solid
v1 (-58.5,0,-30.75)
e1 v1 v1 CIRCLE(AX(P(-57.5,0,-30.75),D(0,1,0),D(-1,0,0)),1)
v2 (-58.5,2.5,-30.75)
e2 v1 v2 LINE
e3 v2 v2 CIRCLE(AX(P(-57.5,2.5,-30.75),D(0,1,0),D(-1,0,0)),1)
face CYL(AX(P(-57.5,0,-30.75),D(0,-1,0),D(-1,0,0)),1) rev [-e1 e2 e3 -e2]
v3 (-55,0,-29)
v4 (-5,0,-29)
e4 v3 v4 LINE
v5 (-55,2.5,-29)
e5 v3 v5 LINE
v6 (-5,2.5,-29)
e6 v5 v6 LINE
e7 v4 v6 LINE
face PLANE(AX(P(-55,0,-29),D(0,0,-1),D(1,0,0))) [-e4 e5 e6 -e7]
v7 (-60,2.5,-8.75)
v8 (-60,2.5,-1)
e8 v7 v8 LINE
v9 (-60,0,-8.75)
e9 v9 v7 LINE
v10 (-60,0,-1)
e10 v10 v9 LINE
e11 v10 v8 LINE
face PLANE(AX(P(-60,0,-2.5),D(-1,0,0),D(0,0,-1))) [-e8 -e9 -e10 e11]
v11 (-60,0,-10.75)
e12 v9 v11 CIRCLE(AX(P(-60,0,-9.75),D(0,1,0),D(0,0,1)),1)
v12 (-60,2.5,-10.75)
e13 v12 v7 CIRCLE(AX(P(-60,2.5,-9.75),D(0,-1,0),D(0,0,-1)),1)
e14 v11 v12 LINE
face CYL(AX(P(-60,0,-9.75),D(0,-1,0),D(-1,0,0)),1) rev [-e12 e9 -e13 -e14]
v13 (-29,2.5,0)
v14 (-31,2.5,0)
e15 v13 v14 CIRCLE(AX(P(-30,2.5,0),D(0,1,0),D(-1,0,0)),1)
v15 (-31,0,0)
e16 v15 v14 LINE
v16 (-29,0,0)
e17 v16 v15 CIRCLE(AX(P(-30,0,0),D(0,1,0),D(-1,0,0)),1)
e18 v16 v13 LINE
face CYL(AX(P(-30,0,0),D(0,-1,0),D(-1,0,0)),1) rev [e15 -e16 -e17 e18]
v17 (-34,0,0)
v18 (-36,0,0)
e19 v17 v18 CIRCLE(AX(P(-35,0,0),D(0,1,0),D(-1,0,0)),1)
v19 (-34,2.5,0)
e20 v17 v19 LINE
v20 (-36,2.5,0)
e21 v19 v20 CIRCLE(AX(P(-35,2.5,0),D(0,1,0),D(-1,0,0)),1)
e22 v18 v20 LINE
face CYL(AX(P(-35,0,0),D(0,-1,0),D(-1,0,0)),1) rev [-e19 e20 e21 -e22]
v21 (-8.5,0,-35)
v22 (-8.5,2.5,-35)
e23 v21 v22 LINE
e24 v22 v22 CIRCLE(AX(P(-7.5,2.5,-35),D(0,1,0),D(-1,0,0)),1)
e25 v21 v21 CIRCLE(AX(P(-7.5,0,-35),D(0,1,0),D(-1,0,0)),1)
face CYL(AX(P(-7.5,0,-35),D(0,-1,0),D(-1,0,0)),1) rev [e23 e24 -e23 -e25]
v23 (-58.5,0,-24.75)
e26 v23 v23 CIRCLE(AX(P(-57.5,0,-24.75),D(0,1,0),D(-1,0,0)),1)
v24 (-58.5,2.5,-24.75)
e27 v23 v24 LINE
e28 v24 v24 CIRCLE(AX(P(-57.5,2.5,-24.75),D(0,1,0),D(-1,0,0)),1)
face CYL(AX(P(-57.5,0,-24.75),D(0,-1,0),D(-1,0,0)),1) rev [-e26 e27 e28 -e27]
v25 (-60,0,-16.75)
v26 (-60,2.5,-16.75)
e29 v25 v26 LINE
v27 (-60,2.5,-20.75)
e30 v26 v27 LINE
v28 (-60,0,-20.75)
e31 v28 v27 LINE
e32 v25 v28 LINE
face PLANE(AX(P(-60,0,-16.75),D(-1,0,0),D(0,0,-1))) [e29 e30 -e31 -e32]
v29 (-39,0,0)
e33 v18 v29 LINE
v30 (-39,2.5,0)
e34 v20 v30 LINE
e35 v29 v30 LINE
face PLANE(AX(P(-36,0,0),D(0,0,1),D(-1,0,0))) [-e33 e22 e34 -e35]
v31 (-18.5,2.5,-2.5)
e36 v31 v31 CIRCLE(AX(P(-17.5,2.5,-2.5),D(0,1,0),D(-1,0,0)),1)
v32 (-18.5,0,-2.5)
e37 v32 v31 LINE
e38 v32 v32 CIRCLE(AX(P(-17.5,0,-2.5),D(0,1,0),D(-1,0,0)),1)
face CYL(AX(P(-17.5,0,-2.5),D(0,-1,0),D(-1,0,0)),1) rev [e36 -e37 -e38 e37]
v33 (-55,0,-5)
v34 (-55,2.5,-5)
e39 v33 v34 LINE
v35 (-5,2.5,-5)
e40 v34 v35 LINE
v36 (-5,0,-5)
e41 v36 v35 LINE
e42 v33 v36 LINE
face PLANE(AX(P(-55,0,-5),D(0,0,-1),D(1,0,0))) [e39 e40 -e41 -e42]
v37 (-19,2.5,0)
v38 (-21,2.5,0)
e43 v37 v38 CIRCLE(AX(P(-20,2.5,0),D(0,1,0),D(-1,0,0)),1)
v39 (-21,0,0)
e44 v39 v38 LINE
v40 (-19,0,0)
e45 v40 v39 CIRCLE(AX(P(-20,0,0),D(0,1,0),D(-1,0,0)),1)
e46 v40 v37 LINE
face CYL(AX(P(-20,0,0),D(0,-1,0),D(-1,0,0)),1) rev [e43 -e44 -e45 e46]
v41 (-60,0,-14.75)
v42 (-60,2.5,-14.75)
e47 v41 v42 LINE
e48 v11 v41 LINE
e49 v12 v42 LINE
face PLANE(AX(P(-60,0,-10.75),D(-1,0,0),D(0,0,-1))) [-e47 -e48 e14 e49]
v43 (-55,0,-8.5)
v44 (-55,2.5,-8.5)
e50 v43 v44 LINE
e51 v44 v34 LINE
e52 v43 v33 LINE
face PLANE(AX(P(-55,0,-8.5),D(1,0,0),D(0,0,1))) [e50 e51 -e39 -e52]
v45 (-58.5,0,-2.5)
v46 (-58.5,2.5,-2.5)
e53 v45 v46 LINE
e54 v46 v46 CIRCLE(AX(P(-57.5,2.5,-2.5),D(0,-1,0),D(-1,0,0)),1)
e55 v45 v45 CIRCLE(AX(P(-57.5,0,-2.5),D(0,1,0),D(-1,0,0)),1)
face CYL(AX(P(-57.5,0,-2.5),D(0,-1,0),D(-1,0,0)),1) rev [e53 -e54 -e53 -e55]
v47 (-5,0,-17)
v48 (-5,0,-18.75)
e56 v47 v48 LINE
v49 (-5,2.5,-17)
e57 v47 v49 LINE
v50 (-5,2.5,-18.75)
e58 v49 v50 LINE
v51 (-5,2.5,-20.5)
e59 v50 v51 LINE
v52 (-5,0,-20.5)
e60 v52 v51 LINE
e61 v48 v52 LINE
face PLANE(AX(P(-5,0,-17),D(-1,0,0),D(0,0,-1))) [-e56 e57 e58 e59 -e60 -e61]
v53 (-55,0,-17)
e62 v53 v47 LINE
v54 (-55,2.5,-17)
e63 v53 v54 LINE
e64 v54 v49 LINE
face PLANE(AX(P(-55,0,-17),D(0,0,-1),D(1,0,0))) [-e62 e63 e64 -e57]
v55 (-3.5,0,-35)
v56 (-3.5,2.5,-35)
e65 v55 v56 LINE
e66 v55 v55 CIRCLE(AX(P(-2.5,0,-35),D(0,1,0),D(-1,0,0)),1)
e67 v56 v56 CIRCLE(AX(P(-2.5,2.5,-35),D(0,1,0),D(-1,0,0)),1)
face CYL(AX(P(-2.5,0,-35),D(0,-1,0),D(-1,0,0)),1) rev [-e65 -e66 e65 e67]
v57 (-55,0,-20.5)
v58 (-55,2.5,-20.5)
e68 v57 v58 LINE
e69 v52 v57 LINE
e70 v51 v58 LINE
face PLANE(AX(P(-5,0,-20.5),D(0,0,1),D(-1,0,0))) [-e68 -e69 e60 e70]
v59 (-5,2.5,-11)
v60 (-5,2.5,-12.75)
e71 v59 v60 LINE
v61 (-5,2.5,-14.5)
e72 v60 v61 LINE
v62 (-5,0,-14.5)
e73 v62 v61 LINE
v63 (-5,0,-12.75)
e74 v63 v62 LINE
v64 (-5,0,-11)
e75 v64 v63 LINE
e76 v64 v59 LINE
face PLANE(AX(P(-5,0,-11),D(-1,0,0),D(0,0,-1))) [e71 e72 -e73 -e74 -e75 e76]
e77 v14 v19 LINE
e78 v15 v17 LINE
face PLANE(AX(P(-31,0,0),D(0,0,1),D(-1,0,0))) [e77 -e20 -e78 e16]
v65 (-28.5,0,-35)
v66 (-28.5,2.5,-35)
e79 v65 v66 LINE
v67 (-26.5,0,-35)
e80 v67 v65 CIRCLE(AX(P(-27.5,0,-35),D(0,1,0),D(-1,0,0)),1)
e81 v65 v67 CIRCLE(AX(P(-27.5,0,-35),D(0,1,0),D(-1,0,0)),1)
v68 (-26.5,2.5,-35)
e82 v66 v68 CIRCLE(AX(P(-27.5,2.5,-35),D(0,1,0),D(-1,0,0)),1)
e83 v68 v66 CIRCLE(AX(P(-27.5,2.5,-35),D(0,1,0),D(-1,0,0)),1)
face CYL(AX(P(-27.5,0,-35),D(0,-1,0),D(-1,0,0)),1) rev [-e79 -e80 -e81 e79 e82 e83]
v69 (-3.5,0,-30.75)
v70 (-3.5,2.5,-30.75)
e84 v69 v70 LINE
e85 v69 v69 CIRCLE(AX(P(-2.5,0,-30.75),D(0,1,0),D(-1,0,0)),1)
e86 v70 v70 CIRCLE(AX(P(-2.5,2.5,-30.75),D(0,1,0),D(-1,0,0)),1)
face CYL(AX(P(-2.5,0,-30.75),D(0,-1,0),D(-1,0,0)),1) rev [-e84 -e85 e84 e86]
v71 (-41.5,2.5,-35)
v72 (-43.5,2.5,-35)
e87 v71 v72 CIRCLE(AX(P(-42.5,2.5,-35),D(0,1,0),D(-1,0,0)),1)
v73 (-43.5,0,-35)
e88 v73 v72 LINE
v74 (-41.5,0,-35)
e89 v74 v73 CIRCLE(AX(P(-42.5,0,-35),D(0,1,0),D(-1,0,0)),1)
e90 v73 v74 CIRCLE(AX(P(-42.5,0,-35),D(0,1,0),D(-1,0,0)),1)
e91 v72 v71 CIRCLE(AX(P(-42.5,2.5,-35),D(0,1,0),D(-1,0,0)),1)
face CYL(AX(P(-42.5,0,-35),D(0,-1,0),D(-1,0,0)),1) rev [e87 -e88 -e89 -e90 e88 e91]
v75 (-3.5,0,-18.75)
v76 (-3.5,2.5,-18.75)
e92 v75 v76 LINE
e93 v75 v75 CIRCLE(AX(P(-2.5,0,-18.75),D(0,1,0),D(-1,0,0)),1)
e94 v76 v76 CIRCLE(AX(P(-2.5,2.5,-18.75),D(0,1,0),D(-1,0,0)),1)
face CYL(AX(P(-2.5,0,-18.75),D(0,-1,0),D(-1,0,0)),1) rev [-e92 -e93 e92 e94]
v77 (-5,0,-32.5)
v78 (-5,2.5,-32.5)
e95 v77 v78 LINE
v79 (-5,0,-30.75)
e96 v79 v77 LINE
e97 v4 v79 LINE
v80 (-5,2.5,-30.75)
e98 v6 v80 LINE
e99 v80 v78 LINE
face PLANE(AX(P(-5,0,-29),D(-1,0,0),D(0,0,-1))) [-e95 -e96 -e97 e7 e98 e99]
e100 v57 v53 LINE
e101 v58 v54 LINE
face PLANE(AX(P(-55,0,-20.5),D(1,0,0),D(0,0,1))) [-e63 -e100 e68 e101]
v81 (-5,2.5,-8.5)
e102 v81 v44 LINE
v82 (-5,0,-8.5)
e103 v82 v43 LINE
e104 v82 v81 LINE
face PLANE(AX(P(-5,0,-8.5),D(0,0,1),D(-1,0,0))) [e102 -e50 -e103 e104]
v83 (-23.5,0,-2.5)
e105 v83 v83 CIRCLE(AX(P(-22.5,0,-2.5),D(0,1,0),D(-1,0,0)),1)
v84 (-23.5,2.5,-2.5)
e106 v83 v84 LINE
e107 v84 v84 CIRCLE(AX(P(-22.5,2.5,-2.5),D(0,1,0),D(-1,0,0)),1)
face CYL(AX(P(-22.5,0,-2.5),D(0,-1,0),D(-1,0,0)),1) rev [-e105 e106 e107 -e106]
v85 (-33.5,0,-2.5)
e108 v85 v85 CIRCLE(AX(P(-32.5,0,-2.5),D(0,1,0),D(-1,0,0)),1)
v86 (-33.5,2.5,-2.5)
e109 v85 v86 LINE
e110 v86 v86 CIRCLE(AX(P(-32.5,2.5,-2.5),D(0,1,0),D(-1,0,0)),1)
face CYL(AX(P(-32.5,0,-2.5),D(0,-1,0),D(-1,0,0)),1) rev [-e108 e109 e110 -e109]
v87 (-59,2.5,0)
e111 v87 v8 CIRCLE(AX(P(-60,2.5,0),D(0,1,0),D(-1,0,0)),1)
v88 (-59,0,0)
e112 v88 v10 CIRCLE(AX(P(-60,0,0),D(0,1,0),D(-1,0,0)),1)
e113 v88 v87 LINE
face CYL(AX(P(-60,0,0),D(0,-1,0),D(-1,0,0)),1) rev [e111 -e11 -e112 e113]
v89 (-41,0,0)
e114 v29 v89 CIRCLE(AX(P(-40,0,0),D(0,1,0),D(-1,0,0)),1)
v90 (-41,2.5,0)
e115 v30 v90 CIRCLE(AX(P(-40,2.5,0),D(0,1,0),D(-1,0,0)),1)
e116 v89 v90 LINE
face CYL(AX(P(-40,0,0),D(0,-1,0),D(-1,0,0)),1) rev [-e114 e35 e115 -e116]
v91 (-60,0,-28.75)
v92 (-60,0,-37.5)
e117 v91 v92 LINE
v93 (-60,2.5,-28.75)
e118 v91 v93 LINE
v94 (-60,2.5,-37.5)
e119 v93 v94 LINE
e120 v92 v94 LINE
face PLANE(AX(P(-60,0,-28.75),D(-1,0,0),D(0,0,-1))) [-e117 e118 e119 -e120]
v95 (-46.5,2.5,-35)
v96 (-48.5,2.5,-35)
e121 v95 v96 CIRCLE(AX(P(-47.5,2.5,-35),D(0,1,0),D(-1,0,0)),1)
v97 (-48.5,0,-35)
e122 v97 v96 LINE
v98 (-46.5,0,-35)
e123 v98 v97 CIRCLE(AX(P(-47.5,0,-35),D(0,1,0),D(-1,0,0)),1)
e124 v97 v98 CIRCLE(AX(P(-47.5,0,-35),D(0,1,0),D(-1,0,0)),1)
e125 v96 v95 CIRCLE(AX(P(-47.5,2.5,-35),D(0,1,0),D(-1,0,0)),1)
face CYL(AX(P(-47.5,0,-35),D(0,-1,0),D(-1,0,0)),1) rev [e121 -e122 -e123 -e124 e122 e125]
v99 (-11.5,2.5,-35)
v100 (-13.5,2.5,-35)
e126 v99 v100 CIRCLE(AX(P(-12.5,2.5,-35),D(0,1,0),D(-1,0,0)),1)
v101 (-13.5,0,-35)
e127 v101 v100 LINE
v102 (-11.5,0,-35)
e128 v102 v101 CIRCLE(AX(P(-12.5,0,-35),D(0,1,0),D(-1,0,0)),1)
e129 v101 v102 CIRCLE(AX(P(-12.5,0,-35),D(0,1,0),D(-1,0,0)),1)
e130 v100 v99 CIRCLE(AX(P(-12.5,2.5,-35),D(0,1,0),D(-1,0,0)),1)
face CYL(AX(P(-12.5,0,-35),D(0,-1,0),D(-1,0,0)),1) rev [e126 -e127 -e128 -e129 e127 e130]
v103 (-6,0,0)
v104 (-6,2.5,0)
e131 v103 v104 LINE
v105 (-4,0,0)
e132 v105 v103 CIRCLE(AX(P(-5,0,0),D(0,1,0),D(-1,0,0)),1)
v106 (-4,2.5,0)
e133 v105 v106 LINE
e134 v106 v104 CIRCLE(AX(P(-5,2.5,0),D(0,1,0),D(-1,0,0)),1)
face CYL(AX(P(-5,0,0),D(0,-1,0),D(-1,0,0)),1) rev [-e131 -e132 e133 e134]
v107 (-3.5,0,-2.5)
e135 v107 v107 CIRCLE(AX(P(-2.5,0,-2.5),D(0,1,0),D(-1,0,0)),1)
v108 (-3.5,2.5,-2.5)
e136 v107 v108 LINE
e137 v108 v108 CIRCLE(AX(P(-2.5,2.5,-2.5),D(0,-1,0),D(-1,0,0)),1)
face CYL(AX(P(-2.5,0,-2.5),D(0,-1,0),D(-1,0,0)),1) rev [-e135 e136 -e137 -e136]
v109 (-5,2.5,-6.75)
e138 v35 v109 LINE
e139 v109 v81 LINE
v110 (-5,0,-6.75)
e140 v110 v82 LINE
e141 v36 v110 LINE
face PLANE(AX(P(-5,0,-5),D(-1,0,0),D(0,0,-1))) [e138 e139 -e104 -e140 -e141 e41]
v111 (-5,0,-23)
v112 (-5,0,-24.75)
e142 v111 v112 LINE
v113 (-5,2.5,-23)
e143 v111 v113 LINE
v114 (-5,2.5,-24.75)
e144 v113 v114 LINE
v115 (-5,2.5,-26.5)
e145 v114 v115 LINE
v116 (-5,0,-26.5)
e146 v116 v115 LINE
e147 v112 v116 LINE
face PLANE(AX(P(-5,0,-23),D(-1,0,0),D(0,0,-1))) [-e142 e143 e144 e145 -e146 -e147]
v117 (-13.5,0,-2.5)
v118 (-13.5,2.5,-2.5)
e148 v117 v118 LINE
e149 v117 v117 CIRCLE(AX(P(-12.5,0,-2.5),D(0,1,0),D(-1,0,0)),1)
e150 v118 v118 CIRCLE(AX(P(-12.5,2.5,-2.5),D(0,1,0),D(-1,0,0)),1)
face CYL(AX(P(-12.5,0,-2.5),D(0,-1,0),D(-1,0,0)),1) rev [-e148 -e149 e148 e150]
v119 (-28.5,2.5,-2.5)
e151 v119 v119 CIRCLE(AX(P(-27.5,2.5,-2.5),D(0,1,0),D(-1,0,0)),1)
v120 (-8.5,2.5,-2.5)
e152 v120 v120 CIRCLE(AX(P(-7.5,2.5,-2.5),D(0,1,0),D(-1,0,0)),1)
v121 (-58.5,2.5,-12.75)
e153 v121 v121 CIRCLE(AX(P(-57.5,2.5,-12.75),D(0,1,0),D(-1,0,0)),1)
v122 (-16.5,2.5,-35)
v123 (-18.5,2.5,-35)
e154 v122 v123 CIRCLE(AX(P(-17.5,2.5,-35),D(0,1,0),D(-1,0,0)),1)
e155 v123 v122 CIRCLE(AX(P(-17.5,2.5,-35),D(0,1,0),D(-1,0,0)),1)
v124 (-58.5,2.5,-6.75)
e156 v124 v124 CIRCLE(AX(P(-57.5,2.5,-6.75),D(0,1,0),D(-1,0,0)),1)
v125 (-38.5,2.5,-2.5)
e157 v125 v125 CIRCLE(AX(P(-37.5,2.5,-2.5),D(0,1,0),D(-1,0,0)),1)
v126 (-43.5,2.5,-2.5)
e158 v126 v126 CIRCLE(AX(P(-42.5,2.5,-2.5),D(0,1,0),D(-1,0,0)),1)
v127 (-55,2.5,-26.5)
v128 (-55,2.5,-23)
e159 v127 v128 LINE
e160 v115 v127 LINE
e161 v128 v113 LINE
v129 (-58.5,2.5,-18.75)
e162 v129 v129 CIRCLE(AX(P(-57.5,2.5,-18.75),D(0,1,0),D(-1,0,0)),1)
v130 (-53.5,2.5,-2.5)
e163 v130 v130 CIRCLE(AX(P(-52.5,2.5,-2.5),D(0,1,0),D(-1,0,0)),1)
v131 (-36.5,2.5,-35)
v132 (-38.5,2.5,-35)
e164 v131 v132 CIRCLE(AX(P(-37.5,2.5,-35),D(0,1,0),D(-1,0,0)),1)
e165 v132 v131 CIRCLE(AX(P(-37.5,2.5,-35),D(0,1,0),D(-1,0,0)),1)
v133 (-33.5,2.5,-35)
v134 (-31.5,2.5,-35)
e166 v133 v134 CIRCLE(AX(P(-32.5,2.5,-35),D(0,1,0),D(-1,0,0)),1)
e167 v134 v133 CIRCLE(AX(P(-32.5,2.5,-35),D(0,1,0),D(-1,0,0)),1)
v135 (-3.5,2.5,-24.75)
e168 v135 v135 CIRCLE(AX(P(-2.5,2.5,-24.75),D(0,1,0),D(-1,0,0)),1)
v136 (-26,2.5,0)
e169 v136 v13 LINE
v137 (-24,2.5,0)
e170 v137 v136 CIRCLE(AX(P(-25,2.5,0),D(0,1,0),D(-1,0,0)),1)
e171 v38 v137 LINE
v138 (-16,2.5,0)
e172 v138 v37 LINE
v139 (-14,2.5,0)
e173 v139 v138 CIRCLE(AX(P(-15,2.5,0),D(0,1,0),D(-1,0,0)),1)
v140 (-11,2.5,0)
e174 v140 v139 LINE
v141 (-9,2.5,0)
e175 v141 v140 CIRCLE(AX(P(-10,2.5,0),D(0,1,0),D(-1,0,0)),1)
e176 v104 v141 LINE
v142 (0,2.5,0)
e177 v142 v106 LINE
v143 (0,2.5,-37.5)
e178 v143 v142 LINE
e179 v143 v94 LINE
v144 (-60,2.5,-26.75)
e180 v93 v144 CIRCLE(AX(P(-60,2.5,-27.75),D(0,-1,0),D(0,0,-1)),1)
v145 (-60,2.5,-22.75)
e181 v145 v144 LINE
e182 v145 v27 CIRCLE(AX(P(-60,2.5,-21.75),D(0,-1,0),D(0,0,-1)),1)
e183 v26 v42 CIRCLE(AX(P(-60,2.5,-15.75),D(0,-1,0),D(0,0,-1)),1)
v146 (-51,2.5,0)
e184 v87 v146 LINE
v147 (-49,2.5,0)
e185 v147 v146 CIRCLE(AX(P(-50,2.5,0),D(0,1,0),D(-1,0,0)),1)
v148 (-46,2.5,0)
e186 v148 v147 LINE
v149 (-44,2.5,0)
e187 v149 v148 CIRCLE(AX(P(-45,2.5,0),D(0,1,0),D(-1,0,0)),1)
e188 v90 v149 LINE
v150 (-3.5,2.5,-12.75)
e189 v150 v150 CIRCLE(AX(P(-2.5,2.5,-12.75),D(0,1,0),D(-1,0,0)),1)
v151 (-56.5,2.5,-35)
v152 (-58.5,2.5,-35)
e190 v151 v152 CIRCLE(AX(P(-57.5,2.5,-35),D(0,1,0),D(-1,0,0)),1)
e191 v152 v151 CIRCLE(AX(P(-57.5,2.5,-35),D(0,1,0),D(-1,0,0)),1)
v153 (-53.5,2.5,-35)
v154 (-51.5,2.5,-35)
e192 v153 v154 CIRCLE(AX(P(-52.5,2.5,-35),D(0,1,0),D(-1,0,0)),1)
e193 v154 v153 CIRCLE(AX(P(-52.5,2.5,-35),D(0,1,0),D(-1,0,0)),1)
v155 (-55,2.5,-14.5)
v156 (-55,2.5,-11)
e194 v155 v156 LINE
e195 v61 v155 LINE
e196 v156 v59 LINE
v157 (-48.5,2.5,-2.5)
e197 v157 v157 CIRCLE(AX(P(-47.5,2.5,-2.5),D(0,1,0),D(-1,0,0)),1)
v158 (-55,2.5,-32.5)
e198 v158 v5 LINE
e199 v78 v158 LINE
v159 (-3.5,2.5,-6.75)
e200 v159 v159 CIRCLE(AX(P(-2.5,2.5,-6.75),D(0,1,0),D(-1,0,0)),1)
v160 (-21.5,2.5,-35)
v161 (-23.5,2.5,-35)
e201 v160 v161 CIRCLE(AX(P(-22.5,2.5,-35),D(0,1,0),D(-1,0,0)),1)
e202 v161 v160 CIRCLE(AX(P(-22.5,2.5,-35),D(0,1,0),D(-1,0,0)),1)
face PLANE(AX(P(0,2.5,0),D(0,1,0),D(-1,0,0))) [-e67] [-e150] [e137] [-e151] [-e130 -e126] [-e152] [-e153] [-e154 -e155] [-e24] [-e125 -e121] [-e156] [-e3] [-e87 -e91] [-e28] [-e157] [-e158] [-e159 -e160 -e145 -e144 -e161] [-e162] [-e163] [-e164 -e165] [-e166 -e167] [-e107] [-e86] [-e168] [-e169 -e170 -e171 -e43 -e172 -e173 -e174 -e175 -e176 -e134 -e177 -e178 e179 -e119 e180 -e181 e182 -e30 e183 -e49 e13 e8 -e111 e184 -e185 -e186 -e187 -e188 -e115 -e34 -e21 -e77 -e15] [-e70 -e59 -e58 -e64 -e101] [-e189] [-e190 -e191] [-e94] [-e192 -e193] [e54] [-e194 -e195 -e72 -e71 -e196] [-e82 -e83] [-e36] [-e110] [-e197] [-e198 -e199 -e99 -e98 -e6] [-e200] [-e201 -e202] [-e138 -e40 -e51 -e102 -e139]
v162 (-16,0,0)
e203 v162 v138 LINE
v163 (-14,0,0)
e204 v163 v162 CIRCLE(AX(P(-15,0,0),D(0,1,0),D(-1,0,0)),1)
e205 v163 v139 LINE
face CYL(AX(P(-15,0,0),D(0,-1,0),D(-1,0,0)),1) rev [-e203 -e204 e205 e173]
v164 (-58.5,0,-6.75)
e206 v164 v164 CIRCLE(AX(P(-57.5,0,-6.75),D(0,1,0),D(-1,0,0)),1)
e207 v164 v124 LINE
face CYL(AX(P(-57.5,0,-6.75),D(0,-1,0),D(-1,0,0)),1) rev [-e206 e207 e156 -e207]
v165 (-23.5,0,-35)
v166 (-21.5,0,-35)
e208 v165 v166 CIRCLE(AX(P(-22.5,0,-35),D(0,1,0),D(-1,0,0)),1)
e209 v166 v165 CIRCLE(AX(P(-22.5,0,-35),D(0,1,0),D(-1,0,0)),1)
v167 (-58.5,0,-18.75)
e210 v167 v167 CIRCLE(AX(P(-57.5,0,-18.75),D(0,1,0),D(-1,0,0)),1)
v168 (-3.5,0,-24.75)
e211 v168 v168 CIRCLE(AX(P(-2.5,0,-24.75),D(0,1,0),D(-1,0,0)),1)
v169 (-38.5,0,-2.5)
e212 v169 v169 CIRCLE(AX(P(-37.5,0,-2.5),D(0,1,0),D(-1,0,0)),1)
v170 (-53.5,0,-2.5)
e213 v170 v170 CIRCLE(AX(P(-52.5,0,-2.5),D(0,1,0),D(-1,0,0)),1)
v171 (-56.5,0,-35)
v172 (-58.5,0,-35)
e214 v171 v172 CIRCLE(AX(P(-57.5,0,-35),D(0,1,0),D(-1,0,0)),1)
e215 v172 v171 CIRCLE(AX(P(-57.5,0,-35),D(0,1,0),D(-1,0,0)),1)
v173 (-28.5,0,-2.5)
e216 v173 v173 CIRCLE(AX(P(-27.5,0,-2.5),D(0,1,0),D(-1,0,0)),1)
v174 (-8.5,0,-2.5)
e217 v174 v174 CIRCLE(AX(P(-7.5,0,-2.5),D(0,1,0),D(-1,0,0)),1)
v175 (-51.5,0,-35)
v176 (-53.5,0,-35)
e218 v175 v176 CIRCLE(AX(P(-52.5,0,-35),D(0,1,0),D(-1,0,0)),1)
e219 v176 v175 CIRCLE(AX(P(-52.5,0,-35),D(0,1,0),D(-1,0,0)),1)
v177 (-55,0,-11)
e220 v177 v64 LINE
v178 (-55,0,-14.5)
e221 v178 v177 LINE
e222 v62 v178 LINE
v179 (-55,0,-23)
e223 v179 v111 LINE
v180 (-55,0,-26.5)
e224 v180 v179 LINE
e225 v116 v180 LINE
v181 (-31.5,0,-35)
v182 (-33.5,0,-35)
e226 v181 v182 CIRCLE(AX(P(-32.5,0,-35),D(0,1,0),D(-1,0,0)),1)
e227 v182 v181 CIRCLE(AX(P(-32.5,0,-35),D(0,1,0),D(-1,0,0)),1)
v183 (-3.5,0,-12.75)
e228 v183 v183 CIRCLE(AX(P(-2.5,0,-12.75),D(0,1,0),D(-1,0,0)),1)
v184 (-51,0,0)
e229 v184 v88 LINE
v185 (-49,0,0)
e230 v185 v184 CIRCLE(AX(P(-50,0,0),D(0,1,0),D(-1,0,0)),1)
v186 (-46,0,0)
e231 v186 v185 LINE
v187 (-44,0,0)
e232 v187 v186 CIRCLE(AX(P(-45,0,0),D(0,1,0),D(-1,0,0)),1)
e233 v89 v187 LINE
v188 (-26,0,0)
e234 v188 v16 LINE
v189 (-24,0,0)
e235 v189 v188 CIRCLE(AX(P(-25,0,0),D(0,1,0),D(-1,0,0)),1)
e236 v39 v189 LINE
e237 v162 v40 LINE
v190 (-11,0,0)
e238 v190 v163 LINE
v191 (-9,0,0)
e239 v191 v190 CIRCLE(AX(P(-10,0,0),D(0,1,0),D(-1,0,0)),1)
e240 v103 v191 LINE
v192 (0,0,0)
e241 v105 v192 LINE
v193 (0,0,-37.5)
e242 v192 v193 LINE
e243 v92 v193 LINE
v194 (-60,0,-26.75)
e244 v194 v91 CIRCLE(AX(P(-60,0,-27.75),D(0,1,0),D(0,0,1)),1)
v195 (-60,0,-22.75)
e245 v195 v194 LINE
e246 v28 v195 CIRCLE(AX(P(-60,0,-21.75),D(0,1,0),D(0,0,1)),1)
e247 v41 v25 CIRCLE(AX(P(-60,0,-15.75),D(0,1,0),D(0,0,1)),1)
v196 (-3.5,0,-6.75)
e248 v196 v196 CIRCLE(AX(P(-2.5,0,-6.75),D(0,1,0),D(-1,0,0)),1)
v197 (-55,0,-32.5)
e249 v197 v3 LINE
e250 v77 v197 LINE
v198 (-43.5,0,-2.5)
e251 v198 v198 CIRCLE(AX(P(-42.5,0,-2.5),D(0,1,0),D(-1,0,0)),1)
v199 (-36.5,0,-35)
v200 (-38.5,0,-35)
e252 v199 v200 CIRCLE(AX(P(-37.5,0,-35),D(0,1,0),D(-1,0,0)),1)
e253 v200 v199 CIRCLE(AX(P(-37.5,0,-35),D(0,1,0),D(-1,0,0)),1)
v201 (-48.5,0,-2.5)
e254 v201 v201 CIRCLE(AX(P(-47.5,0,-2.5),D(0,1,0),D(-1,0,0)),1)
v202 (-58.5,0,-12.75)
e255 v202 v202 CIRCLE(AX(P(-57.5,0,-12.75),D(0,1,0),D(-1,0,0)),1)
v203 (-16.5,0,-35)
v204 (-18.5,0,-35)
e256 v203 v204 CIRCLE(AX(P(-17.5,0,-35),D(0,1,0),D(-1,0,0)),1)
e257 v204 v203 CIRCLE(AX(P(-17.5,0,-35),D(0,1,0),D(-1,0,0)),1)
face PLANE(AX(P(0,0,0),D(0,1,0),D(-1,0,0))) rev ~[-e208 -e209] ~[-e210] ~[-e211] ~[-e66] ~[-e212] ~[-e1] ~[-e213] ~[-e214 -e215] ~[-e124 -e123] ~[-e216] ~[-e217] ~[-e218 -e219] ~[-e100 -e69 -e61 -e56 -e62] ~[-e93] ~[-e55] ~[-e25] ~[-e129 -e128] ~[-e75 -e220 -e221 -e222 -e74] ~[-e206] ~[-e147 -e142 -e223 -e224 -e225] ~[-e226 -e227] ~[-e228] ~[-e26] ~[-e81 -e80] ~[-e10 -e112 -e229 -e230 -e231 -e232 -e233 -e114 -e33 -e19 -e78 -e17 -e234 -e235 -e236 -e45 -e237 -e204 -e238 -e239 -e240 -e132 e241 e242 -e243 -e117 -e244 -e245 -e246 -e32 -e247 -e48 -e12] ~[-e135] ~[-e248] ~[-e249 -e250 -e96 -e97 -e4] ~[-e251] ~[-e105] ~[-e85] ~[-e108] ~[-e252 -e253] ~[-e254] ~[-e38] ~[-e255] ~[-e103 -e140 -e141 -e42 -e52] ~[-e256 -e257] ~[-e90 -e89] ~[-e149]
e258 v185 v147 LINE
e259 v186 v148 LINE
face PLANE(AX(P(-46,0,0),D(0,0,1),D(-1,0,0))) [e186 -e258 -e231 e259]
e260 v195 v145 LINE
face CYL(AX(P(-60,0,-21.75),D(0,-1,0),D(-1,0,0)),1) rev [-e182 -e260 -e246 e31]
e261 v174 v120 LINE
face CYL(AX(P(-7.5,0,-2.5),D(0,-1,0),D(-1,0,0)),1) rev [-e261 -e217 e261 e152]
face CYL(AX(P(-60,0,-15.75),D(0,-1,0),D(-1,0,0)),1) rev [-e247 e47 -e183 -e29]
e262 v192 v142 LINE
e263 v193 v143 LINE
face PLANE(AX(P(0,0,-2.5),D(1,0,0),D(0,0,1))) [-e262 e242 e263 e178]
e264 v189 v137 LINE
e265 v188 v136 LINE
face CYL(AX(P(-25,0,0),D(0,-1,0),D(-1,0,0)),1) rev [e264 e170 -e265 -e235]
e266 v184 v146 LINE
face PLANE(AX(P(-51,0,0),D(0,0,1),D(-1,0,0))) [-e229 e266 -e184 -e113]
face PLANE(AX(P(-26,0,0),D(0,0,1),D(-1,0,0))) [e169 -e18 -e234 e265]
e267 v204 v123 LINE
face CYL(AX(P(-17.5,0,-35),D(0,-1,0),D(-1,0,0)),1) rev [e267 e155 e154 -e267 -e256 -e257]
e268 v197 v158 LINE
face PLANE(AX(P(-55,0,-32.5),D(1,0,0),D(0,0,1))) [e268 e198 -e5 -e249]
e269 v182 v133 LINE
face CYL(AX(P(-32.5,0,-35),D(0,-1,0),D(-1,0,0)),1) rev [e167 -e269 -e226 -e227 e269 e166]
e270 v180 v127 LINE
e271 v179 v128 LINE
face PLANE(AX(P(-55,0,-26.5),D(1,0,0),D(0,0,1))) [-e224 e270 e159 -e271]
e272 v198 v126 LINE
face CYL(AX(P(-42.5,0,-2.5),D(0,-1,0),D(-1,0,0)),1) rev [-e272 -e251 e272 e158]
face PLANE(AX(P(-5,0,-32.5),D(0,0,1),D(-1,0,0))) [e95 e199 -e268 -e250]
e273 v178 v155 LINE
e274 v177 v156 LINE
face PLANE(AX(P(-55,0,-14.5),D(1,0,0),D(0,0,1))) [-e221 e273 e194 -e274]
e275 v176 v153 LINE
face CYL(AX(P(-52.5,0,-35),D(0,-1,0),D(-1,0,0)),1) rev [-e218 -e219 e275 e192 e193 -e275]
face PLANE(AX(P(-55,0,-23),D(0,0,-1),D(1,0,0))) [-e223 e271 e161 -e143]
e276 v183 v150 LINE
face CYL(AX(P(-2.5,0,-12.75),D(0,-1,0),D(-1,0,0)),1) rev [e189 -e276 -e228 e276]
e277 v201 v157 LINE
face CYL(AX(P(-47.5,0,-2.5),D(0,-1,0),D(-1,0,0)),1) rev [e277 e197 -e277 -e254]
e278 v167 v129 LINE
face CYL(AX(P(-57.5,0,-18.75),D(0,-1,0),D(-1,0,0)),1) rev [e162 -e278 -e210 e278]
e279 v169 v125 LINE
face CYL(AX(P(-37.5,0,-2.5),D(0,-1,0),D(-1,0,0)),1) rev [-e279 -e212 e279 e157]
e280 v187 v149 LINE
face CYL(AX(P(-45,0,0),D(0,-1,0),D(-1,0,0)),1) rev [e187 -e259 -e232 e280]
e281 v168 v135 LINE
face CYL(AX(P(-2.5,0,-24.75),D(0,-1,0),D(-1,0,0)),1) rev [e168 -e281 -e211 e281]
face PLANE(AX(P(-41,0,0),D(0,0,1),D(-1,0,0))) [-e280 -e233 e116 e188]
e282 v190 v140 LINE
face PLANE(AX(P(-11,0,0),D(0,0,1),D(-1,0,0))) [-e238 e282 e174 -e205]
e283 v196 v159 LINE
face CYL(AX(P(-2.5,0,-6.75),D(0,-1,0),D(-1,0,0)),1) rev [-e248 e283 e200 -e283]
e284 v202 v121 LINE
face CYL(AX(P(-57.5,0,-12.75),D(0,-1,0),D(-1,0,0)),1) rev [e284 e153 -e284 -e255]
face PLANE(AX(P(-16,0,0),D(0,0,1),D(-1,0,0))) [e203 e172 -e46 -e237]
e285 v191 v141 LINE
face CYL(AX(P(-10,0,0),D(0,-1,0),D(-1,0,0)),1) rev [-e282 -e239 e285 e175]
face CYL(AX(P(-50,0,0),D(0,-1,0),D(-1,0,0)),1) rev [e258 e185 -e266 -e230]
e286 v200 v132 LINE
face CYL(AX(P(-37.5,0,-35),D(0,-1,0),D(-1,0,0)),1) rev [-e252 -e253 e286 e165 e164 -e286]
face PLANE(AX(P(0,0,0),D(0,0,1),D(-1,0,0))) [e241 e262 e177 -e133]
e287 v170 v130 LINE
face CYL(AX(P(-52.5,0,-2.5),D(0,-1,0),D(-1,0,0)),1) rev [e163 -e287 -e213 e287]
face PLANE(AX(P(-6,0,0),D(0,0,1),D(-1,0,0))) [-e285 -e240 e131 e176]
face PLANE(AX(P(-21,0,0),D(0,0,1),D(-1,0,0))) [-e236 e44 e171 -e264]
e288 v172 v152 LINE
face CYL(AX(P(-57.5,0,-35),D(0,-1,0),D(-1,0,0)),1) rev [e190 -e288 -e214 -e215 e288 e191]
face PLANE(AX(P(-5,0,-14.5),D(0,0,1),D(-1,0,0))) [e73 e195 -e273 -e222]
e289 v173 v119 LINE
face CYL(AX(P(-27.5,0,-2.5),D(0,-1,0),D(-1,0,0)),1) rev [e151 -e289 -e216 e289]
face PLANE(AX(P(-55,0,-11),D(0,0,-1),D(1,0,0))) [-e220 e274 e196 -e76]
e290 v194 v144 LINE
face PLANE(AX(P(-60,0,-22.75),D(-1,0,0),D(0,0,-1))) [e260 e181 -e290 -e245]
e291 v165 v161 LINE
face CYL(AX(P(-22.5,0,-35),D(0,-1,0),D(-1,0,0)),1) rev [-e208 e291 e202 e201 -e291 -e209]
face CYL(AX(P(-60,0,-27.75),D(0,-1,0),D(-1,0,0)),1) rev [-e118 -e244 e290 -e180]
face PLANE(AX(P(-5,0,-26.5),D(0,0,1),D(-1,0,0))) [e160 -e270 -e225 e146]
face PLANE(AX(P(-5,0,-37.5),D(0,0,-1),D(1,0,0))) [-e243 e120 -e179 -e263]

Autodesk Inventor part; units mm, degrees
ref_plane "YZ Plane" through (0, 0, 0) normal (1, 0, 0) x (0, 1, 0)
ref_plane "XZ Plane" through (0, 0, 0) normal (0, 1, 0) x (-1, 0, 0)
ref_plane "XY Plane" through (0, 0, 0) normal (0, 0, 1) x (1, 0, 0)
sketch "Sketch1" plane through (0, 0, 0) normal (0, 1, 0) x (-1, 0, 0)
  line L0 (0, 0) -> (60, 0)
  line L1 (60, 0) -> (60, -37.5)
  line L2 (60, -37.5) -> (0, -37.5)
  line L3 (0, -37.5) -> (0, 0)
  line L4 (60, 0) -> (55, 0)
  line L5 (55, 0) -> (55, -5)
  line L6 (55, -5) -> (60, -5)
  line L7 (60, -5) -> (60, 0)
  line L8 (0, -37.5) -> (5, -37.5)
  line L9 (5, -37.5) -> (5, -32.5)
  line L10 (5, -32.5) -> (0, -32.5)
  line L11 (0, -32.5) -> (0, -37.5)
  line L12 (55, -5) -> (5, -5)
  line L13 (5, -5) -> (5, -32.5)
  line L14 (5, -32.5) -> (55, -32.5)
  line L15 (55, -32.5) -> (55, -5)
  line L16 (5, -5) -> (5, -8.5)
  line L17 (5, -8.5) -> (5, -11)
  line L18 (5, -11) -> (5, -14.5)
  line L19 (5, -14.5) -> (5, -17)
  line L20 (5, -17) -> (5, -20.5)
  line L21 (5, -20.5) -> (5, -23)
  line L22 (5, -23) -> (5, -26.5)
  line L23 (5, -26.5) -> (5, -29)
  line L24 (5, -29) -> (5, -32.5)
  line L25 (5, -8.5) -> (55, -8.5)
  line L26 (55, -8.5) -> (55, -11)
  line L27 (55, -11) -> (5, -11)
  line L28 (5, -11) -> (5, -8.5)
  line L29 (5, -14.5) -> (55, -14.5)
  line L30 (55, -14.5) -> (55, -17)
  line L31 (55, -17) -> (5, -17)
  line L32 (5, -17) -> (5, -14.5)
  line L33 (5, -20.5) -> (55, -20.5)
  line L34 (55, -20.5) -> (55, -23)
  line L35 (55, -23) -> (5, -23)
  line L36 (5, -23) -> (5, -20.5)
  line L37 (5, -26.5) -> (55, -26.5)
  line L38 (55, -26.5) -> (55, -29)
  line L39 (55, -29) -> (5, -29)
  line L40 (5, -29) -> (5, -26.5)
  line L41 (0, 0) -> (2.5, 0)
  line L42 (2.5, 0) -> (2.5, -2.5)
  line L43 (2.5, -2.5) -> (0, -2.5)
  line L44 (0, -2.5) -> (0, 0)
  circle A0 centre (2.5, -2.5) radius 1
  line L45 (5, -6.75) -> (2.5, -6.75)
  line L46 (5, -12.75) -> (2.5, -12.75)
  line L47 (5, -18.75) -> (2.5, -18.75)
  line L48 (5, -24.75) -> (2.5, -24.75)
  line L49 (5, -30.75) -> (2.5, -30.75)
  line L50 (5, -35) -> (2.5, -35)
  circle A1 centre (2.5, -35) radius 1
  circle A2 centre (2.5, -30.75) radius 1
  circle A3 centre (2.5, -24.75) radius 1
  circle A4 centre (2.5, -18.75) radius 1
  circle A5 centre (2.5, -12.75) radius 1
  circle A6 centre (2.5, -6.75) radius 1
  line L51 (60, 0) -> (57.5, 0)
  line L52 (57.5, 0) -> (57.5, -2.5)
  line L53 (57.5, -2.5) -> (60, -2.5)
  line L54 (60, -2.5) -> (60, 0)
  circle A7 centre (57.5, -2.5) radius 1
  circle A8 centre (57.5, -6.75) radius 1
  circle A9 centre (57.5, -12.75) radius 1
  circle A10 centre (57.5, -18.75) radius 1
  circle A11 centre (57.5, -24.75) radius 1
  circle A12 centre (57.5, -30.75) radius 1
  circle A13 centre (57.5, -35) radius 1
  line L55 (57.5, -35) -> (52.5, -35)
  line L56 (52.5, -35) -> (47.5, -35)
  line L57 (47.5, -35) -> (42.5, -35)
  line L58 (42.5, -35) -> (37.5, -35)
  line L59 (37.5, -35) -> (32.5, -35)
  line L60 (32.5, -35) -> (27.5, -35)
  line L61 (27.5, -35) -> (22.5, -35)
  line L62 (22.5, -35) -> (17.5, -35)
  line L63 (17.5, -35) -> (12.5, -35)
  line L64 (12.5, -35) -> (7.5, -35)
  circle A14 centre (52.5, -35) radius 1
  circle A15 centre (47.5, -35) radius 1
  circle A16 centre (42.5, -35) radius 1
  circle A17 centre (37.5, -35) radius 1
  circle A18 centre (32.5, -35) radius 1
  circle A19 centre (27.5, -35) radius 1
  circle A20 centre (22.5, -35) radius 1
  circle A21 centre (17.5, -35) radius 1
  circle A22 centre (12.5, -35) radius 1
  circle A23 centre (7.5, -35) radius 1
  circle A24 centre (52.5, -2.5) radius 1
  circle A25 centre (47.5, -2.5) radius 1
  circle A26 centre (42.5, -2.5) radius 1
  circle A27 centre (37.5, -2.5) radius 1
  circle A28 centre (32.5, -2.5) radius 1
  circle A29 centre (27.5, -2.5) radius 1
  circle A30 centre (22.5, -2.5) radius 1
  circle A31 centre (17.5, -2.5) radius 1
  circle A32 centre (12.5, -2.5) radius 1
  circle A33 centre (7.5, -2.5) radius 1
  line L65 (0, 0) -> (5, 0)
  line L66 (5, 0) -> (10, 0)
  line L67 (10, 0) -> (15, 0)
  line L68 (15, 0) -> (20, 0)
  line L69 (20, 0) -> (25, 0)
  line L70 (25, 0) -> (30, 0)
  line L71 (30, 0) -> (35, 0)
  line L72 (35, 0) -> (40, 0)
  line L73 (40, 0) -> (45, 0)
  line L74 (45, 0) -> (50, 0)
  line L75 (50, 0) -> (55, 0)
  circle A34 centre (5, 0) radius 1
  circle A35 centre (10, 0) radius 1
  circle A36 centre (15, 0) radius 1
  circle A37 centre (20, 0) radius 1
  circle A38 centre (25, 0) radius 1
  circle A39 centre (30, 0) radius 1
  circle A40 centre (35, 0) radius 1
  circle A41 centre (40, 0) radius 1
  circle A42 centre (45, 0) radius 1
  circle A43 centre (50, 0) radius 1
  circle A44 centre (60, 0) radius 1
  line L76 (55, -9.75) -> (60, -9.75)
  line L77 (55, -15.75) -> (60, -15.75)
  line L78 (55, -21.75) -> (60, -21.75)
  line L79 (55, -27.75) -> (60, -27.75)
  circle A45 centre (60, -27.75) radius 1
  circle A46 centre (60, -21.75) radius 1
  circle A47 centre (60, -15.75) radius 1
  circle A48 centre (60, -9.75) radius 1
  point P0 (60, -1)
  point P1 (59, 0)
  point P2 (51, 0)
  point P3 (49, 0)
  point P4 (46, 0)
  point P5 (44, 0)
  point P6 (41, 0)
  point P7 (39, 0)
  point P8 (36, 0)
  point P9 (34, 0)
  point P10 (31, 0)
  point P11 (29, 0)
  point P12 (26, 0)
  point P13 (24, 0)
  point P14 (21, 0)
  point P15 (19, 0)
  point P16 (16, 0)
  point P17 (14, 0)
  point P18 (11, 0)
  point P19 (9, 0)
  point P20 (6, 0)
  point P21 (4, 0)
  point P22 (60, -28.75)
  point P23 (60, -26.75)
  point P24 (60, -22.75)
  point P25 (60, -20.75)
  point P26 (60, -16.75)
  point P27 (60, -14.75)
  point P28 (60, -10.75)
  point P29 (60, -8.75)
  dimension "d0" = 60
  dimension "d1" = 37.5
  dimension "d2" = 5
  dimension "d3" = 5
  dimension "d4" = 5
  dimension "d5" = 5
  dimension "d6" = 3.5
  dimension "d7" = 2.5
  dimension "d8" = 3.5
  dimension "d9" = 2.5
  dimension "d10" = 3.5
  dimension "d11" = 2.5
  dimension "d12" = 3.5
  dimension "d13" = 2.5
  dimension "d14" = 3.5
  dimension "d15" = 2.5
  dimension "d16" = 2.5
  dimension "d17" = 2
  dimension "d18" = 2
  dimension "d19" = 2
  dimension "d20" = 2
  dimension "d21" = 2
  dimension "d22" = 2
  dimension "d23" = 2
  dimension "d24" = 2.5
  dimension "d25" = 2.5
  dimension "d26" = 2
  dimension "d27" = 2
  dimension "d28" = 2
  dimension "d29" = 2
  dimension "d30" = 2
  dimension "d31" = 2
  dimension "d32" = 2
  dimension "d33" = 5
  dimension "d34" = 5
  dimension "d35" = 5
  dimension "d36" = 5
  dimension "d37" = 5
  dimension "d38" = 5
  dimension "d39" = 5
  dimension "d40" = 5
  dimension "d41" = 5
  dimension "d42" = 5
  dimension "d43" = 2
  dimension "d44" = 2
  dimension "d45" = 2
  dimension "d46" = 2
  dimension "d47" = 2
  dimension "d48" = 2
  dimension "d49" = 2
  dimension "d50" = 2
  dimension "d51" = 2
  dimension "d52" = 2
  dimension "d53" = 2
  dimension "d54" = 2
  dimension "d55" = 2
  dimension "d56" = 2
  dimension "d57" = 2
  dimension "d58" = 2
  dimension "d59" = 2
  dimension "d60" = 2
  dimension "d61" = 2
  dimension "d62" = 2
  dimension "d63" = 5
extrude "Extrusion1" add sketch "Sketch1" along normal blind 2.5 contours L0 L42 A0 L43 L3 | L0 A34 A35 A36 A37 A38 A39 A40 A41 A42 A43 L5 L12 L13 L10 L3 L43 A0 L42 | L10 L9 L2 L3 | L14 L15 L79 A45 L1 L2 L9 | L13 L37 L15 L39 | L15 L78 A46 L1 A45 L79 | L13 L33 L15 L35 | L15 L77 A47 L1 A46 L78 | L13 L29 L15 L31 | L15 L76 A48 L1 A47 L77 | L13 L25 L15 L27 | L15 L6 L1 A48 L76 | L5 L0 L52 A7 L53 L1 L6 | L53 A7 L52 L0 A44 L1
properties part number "placa_galbena"
